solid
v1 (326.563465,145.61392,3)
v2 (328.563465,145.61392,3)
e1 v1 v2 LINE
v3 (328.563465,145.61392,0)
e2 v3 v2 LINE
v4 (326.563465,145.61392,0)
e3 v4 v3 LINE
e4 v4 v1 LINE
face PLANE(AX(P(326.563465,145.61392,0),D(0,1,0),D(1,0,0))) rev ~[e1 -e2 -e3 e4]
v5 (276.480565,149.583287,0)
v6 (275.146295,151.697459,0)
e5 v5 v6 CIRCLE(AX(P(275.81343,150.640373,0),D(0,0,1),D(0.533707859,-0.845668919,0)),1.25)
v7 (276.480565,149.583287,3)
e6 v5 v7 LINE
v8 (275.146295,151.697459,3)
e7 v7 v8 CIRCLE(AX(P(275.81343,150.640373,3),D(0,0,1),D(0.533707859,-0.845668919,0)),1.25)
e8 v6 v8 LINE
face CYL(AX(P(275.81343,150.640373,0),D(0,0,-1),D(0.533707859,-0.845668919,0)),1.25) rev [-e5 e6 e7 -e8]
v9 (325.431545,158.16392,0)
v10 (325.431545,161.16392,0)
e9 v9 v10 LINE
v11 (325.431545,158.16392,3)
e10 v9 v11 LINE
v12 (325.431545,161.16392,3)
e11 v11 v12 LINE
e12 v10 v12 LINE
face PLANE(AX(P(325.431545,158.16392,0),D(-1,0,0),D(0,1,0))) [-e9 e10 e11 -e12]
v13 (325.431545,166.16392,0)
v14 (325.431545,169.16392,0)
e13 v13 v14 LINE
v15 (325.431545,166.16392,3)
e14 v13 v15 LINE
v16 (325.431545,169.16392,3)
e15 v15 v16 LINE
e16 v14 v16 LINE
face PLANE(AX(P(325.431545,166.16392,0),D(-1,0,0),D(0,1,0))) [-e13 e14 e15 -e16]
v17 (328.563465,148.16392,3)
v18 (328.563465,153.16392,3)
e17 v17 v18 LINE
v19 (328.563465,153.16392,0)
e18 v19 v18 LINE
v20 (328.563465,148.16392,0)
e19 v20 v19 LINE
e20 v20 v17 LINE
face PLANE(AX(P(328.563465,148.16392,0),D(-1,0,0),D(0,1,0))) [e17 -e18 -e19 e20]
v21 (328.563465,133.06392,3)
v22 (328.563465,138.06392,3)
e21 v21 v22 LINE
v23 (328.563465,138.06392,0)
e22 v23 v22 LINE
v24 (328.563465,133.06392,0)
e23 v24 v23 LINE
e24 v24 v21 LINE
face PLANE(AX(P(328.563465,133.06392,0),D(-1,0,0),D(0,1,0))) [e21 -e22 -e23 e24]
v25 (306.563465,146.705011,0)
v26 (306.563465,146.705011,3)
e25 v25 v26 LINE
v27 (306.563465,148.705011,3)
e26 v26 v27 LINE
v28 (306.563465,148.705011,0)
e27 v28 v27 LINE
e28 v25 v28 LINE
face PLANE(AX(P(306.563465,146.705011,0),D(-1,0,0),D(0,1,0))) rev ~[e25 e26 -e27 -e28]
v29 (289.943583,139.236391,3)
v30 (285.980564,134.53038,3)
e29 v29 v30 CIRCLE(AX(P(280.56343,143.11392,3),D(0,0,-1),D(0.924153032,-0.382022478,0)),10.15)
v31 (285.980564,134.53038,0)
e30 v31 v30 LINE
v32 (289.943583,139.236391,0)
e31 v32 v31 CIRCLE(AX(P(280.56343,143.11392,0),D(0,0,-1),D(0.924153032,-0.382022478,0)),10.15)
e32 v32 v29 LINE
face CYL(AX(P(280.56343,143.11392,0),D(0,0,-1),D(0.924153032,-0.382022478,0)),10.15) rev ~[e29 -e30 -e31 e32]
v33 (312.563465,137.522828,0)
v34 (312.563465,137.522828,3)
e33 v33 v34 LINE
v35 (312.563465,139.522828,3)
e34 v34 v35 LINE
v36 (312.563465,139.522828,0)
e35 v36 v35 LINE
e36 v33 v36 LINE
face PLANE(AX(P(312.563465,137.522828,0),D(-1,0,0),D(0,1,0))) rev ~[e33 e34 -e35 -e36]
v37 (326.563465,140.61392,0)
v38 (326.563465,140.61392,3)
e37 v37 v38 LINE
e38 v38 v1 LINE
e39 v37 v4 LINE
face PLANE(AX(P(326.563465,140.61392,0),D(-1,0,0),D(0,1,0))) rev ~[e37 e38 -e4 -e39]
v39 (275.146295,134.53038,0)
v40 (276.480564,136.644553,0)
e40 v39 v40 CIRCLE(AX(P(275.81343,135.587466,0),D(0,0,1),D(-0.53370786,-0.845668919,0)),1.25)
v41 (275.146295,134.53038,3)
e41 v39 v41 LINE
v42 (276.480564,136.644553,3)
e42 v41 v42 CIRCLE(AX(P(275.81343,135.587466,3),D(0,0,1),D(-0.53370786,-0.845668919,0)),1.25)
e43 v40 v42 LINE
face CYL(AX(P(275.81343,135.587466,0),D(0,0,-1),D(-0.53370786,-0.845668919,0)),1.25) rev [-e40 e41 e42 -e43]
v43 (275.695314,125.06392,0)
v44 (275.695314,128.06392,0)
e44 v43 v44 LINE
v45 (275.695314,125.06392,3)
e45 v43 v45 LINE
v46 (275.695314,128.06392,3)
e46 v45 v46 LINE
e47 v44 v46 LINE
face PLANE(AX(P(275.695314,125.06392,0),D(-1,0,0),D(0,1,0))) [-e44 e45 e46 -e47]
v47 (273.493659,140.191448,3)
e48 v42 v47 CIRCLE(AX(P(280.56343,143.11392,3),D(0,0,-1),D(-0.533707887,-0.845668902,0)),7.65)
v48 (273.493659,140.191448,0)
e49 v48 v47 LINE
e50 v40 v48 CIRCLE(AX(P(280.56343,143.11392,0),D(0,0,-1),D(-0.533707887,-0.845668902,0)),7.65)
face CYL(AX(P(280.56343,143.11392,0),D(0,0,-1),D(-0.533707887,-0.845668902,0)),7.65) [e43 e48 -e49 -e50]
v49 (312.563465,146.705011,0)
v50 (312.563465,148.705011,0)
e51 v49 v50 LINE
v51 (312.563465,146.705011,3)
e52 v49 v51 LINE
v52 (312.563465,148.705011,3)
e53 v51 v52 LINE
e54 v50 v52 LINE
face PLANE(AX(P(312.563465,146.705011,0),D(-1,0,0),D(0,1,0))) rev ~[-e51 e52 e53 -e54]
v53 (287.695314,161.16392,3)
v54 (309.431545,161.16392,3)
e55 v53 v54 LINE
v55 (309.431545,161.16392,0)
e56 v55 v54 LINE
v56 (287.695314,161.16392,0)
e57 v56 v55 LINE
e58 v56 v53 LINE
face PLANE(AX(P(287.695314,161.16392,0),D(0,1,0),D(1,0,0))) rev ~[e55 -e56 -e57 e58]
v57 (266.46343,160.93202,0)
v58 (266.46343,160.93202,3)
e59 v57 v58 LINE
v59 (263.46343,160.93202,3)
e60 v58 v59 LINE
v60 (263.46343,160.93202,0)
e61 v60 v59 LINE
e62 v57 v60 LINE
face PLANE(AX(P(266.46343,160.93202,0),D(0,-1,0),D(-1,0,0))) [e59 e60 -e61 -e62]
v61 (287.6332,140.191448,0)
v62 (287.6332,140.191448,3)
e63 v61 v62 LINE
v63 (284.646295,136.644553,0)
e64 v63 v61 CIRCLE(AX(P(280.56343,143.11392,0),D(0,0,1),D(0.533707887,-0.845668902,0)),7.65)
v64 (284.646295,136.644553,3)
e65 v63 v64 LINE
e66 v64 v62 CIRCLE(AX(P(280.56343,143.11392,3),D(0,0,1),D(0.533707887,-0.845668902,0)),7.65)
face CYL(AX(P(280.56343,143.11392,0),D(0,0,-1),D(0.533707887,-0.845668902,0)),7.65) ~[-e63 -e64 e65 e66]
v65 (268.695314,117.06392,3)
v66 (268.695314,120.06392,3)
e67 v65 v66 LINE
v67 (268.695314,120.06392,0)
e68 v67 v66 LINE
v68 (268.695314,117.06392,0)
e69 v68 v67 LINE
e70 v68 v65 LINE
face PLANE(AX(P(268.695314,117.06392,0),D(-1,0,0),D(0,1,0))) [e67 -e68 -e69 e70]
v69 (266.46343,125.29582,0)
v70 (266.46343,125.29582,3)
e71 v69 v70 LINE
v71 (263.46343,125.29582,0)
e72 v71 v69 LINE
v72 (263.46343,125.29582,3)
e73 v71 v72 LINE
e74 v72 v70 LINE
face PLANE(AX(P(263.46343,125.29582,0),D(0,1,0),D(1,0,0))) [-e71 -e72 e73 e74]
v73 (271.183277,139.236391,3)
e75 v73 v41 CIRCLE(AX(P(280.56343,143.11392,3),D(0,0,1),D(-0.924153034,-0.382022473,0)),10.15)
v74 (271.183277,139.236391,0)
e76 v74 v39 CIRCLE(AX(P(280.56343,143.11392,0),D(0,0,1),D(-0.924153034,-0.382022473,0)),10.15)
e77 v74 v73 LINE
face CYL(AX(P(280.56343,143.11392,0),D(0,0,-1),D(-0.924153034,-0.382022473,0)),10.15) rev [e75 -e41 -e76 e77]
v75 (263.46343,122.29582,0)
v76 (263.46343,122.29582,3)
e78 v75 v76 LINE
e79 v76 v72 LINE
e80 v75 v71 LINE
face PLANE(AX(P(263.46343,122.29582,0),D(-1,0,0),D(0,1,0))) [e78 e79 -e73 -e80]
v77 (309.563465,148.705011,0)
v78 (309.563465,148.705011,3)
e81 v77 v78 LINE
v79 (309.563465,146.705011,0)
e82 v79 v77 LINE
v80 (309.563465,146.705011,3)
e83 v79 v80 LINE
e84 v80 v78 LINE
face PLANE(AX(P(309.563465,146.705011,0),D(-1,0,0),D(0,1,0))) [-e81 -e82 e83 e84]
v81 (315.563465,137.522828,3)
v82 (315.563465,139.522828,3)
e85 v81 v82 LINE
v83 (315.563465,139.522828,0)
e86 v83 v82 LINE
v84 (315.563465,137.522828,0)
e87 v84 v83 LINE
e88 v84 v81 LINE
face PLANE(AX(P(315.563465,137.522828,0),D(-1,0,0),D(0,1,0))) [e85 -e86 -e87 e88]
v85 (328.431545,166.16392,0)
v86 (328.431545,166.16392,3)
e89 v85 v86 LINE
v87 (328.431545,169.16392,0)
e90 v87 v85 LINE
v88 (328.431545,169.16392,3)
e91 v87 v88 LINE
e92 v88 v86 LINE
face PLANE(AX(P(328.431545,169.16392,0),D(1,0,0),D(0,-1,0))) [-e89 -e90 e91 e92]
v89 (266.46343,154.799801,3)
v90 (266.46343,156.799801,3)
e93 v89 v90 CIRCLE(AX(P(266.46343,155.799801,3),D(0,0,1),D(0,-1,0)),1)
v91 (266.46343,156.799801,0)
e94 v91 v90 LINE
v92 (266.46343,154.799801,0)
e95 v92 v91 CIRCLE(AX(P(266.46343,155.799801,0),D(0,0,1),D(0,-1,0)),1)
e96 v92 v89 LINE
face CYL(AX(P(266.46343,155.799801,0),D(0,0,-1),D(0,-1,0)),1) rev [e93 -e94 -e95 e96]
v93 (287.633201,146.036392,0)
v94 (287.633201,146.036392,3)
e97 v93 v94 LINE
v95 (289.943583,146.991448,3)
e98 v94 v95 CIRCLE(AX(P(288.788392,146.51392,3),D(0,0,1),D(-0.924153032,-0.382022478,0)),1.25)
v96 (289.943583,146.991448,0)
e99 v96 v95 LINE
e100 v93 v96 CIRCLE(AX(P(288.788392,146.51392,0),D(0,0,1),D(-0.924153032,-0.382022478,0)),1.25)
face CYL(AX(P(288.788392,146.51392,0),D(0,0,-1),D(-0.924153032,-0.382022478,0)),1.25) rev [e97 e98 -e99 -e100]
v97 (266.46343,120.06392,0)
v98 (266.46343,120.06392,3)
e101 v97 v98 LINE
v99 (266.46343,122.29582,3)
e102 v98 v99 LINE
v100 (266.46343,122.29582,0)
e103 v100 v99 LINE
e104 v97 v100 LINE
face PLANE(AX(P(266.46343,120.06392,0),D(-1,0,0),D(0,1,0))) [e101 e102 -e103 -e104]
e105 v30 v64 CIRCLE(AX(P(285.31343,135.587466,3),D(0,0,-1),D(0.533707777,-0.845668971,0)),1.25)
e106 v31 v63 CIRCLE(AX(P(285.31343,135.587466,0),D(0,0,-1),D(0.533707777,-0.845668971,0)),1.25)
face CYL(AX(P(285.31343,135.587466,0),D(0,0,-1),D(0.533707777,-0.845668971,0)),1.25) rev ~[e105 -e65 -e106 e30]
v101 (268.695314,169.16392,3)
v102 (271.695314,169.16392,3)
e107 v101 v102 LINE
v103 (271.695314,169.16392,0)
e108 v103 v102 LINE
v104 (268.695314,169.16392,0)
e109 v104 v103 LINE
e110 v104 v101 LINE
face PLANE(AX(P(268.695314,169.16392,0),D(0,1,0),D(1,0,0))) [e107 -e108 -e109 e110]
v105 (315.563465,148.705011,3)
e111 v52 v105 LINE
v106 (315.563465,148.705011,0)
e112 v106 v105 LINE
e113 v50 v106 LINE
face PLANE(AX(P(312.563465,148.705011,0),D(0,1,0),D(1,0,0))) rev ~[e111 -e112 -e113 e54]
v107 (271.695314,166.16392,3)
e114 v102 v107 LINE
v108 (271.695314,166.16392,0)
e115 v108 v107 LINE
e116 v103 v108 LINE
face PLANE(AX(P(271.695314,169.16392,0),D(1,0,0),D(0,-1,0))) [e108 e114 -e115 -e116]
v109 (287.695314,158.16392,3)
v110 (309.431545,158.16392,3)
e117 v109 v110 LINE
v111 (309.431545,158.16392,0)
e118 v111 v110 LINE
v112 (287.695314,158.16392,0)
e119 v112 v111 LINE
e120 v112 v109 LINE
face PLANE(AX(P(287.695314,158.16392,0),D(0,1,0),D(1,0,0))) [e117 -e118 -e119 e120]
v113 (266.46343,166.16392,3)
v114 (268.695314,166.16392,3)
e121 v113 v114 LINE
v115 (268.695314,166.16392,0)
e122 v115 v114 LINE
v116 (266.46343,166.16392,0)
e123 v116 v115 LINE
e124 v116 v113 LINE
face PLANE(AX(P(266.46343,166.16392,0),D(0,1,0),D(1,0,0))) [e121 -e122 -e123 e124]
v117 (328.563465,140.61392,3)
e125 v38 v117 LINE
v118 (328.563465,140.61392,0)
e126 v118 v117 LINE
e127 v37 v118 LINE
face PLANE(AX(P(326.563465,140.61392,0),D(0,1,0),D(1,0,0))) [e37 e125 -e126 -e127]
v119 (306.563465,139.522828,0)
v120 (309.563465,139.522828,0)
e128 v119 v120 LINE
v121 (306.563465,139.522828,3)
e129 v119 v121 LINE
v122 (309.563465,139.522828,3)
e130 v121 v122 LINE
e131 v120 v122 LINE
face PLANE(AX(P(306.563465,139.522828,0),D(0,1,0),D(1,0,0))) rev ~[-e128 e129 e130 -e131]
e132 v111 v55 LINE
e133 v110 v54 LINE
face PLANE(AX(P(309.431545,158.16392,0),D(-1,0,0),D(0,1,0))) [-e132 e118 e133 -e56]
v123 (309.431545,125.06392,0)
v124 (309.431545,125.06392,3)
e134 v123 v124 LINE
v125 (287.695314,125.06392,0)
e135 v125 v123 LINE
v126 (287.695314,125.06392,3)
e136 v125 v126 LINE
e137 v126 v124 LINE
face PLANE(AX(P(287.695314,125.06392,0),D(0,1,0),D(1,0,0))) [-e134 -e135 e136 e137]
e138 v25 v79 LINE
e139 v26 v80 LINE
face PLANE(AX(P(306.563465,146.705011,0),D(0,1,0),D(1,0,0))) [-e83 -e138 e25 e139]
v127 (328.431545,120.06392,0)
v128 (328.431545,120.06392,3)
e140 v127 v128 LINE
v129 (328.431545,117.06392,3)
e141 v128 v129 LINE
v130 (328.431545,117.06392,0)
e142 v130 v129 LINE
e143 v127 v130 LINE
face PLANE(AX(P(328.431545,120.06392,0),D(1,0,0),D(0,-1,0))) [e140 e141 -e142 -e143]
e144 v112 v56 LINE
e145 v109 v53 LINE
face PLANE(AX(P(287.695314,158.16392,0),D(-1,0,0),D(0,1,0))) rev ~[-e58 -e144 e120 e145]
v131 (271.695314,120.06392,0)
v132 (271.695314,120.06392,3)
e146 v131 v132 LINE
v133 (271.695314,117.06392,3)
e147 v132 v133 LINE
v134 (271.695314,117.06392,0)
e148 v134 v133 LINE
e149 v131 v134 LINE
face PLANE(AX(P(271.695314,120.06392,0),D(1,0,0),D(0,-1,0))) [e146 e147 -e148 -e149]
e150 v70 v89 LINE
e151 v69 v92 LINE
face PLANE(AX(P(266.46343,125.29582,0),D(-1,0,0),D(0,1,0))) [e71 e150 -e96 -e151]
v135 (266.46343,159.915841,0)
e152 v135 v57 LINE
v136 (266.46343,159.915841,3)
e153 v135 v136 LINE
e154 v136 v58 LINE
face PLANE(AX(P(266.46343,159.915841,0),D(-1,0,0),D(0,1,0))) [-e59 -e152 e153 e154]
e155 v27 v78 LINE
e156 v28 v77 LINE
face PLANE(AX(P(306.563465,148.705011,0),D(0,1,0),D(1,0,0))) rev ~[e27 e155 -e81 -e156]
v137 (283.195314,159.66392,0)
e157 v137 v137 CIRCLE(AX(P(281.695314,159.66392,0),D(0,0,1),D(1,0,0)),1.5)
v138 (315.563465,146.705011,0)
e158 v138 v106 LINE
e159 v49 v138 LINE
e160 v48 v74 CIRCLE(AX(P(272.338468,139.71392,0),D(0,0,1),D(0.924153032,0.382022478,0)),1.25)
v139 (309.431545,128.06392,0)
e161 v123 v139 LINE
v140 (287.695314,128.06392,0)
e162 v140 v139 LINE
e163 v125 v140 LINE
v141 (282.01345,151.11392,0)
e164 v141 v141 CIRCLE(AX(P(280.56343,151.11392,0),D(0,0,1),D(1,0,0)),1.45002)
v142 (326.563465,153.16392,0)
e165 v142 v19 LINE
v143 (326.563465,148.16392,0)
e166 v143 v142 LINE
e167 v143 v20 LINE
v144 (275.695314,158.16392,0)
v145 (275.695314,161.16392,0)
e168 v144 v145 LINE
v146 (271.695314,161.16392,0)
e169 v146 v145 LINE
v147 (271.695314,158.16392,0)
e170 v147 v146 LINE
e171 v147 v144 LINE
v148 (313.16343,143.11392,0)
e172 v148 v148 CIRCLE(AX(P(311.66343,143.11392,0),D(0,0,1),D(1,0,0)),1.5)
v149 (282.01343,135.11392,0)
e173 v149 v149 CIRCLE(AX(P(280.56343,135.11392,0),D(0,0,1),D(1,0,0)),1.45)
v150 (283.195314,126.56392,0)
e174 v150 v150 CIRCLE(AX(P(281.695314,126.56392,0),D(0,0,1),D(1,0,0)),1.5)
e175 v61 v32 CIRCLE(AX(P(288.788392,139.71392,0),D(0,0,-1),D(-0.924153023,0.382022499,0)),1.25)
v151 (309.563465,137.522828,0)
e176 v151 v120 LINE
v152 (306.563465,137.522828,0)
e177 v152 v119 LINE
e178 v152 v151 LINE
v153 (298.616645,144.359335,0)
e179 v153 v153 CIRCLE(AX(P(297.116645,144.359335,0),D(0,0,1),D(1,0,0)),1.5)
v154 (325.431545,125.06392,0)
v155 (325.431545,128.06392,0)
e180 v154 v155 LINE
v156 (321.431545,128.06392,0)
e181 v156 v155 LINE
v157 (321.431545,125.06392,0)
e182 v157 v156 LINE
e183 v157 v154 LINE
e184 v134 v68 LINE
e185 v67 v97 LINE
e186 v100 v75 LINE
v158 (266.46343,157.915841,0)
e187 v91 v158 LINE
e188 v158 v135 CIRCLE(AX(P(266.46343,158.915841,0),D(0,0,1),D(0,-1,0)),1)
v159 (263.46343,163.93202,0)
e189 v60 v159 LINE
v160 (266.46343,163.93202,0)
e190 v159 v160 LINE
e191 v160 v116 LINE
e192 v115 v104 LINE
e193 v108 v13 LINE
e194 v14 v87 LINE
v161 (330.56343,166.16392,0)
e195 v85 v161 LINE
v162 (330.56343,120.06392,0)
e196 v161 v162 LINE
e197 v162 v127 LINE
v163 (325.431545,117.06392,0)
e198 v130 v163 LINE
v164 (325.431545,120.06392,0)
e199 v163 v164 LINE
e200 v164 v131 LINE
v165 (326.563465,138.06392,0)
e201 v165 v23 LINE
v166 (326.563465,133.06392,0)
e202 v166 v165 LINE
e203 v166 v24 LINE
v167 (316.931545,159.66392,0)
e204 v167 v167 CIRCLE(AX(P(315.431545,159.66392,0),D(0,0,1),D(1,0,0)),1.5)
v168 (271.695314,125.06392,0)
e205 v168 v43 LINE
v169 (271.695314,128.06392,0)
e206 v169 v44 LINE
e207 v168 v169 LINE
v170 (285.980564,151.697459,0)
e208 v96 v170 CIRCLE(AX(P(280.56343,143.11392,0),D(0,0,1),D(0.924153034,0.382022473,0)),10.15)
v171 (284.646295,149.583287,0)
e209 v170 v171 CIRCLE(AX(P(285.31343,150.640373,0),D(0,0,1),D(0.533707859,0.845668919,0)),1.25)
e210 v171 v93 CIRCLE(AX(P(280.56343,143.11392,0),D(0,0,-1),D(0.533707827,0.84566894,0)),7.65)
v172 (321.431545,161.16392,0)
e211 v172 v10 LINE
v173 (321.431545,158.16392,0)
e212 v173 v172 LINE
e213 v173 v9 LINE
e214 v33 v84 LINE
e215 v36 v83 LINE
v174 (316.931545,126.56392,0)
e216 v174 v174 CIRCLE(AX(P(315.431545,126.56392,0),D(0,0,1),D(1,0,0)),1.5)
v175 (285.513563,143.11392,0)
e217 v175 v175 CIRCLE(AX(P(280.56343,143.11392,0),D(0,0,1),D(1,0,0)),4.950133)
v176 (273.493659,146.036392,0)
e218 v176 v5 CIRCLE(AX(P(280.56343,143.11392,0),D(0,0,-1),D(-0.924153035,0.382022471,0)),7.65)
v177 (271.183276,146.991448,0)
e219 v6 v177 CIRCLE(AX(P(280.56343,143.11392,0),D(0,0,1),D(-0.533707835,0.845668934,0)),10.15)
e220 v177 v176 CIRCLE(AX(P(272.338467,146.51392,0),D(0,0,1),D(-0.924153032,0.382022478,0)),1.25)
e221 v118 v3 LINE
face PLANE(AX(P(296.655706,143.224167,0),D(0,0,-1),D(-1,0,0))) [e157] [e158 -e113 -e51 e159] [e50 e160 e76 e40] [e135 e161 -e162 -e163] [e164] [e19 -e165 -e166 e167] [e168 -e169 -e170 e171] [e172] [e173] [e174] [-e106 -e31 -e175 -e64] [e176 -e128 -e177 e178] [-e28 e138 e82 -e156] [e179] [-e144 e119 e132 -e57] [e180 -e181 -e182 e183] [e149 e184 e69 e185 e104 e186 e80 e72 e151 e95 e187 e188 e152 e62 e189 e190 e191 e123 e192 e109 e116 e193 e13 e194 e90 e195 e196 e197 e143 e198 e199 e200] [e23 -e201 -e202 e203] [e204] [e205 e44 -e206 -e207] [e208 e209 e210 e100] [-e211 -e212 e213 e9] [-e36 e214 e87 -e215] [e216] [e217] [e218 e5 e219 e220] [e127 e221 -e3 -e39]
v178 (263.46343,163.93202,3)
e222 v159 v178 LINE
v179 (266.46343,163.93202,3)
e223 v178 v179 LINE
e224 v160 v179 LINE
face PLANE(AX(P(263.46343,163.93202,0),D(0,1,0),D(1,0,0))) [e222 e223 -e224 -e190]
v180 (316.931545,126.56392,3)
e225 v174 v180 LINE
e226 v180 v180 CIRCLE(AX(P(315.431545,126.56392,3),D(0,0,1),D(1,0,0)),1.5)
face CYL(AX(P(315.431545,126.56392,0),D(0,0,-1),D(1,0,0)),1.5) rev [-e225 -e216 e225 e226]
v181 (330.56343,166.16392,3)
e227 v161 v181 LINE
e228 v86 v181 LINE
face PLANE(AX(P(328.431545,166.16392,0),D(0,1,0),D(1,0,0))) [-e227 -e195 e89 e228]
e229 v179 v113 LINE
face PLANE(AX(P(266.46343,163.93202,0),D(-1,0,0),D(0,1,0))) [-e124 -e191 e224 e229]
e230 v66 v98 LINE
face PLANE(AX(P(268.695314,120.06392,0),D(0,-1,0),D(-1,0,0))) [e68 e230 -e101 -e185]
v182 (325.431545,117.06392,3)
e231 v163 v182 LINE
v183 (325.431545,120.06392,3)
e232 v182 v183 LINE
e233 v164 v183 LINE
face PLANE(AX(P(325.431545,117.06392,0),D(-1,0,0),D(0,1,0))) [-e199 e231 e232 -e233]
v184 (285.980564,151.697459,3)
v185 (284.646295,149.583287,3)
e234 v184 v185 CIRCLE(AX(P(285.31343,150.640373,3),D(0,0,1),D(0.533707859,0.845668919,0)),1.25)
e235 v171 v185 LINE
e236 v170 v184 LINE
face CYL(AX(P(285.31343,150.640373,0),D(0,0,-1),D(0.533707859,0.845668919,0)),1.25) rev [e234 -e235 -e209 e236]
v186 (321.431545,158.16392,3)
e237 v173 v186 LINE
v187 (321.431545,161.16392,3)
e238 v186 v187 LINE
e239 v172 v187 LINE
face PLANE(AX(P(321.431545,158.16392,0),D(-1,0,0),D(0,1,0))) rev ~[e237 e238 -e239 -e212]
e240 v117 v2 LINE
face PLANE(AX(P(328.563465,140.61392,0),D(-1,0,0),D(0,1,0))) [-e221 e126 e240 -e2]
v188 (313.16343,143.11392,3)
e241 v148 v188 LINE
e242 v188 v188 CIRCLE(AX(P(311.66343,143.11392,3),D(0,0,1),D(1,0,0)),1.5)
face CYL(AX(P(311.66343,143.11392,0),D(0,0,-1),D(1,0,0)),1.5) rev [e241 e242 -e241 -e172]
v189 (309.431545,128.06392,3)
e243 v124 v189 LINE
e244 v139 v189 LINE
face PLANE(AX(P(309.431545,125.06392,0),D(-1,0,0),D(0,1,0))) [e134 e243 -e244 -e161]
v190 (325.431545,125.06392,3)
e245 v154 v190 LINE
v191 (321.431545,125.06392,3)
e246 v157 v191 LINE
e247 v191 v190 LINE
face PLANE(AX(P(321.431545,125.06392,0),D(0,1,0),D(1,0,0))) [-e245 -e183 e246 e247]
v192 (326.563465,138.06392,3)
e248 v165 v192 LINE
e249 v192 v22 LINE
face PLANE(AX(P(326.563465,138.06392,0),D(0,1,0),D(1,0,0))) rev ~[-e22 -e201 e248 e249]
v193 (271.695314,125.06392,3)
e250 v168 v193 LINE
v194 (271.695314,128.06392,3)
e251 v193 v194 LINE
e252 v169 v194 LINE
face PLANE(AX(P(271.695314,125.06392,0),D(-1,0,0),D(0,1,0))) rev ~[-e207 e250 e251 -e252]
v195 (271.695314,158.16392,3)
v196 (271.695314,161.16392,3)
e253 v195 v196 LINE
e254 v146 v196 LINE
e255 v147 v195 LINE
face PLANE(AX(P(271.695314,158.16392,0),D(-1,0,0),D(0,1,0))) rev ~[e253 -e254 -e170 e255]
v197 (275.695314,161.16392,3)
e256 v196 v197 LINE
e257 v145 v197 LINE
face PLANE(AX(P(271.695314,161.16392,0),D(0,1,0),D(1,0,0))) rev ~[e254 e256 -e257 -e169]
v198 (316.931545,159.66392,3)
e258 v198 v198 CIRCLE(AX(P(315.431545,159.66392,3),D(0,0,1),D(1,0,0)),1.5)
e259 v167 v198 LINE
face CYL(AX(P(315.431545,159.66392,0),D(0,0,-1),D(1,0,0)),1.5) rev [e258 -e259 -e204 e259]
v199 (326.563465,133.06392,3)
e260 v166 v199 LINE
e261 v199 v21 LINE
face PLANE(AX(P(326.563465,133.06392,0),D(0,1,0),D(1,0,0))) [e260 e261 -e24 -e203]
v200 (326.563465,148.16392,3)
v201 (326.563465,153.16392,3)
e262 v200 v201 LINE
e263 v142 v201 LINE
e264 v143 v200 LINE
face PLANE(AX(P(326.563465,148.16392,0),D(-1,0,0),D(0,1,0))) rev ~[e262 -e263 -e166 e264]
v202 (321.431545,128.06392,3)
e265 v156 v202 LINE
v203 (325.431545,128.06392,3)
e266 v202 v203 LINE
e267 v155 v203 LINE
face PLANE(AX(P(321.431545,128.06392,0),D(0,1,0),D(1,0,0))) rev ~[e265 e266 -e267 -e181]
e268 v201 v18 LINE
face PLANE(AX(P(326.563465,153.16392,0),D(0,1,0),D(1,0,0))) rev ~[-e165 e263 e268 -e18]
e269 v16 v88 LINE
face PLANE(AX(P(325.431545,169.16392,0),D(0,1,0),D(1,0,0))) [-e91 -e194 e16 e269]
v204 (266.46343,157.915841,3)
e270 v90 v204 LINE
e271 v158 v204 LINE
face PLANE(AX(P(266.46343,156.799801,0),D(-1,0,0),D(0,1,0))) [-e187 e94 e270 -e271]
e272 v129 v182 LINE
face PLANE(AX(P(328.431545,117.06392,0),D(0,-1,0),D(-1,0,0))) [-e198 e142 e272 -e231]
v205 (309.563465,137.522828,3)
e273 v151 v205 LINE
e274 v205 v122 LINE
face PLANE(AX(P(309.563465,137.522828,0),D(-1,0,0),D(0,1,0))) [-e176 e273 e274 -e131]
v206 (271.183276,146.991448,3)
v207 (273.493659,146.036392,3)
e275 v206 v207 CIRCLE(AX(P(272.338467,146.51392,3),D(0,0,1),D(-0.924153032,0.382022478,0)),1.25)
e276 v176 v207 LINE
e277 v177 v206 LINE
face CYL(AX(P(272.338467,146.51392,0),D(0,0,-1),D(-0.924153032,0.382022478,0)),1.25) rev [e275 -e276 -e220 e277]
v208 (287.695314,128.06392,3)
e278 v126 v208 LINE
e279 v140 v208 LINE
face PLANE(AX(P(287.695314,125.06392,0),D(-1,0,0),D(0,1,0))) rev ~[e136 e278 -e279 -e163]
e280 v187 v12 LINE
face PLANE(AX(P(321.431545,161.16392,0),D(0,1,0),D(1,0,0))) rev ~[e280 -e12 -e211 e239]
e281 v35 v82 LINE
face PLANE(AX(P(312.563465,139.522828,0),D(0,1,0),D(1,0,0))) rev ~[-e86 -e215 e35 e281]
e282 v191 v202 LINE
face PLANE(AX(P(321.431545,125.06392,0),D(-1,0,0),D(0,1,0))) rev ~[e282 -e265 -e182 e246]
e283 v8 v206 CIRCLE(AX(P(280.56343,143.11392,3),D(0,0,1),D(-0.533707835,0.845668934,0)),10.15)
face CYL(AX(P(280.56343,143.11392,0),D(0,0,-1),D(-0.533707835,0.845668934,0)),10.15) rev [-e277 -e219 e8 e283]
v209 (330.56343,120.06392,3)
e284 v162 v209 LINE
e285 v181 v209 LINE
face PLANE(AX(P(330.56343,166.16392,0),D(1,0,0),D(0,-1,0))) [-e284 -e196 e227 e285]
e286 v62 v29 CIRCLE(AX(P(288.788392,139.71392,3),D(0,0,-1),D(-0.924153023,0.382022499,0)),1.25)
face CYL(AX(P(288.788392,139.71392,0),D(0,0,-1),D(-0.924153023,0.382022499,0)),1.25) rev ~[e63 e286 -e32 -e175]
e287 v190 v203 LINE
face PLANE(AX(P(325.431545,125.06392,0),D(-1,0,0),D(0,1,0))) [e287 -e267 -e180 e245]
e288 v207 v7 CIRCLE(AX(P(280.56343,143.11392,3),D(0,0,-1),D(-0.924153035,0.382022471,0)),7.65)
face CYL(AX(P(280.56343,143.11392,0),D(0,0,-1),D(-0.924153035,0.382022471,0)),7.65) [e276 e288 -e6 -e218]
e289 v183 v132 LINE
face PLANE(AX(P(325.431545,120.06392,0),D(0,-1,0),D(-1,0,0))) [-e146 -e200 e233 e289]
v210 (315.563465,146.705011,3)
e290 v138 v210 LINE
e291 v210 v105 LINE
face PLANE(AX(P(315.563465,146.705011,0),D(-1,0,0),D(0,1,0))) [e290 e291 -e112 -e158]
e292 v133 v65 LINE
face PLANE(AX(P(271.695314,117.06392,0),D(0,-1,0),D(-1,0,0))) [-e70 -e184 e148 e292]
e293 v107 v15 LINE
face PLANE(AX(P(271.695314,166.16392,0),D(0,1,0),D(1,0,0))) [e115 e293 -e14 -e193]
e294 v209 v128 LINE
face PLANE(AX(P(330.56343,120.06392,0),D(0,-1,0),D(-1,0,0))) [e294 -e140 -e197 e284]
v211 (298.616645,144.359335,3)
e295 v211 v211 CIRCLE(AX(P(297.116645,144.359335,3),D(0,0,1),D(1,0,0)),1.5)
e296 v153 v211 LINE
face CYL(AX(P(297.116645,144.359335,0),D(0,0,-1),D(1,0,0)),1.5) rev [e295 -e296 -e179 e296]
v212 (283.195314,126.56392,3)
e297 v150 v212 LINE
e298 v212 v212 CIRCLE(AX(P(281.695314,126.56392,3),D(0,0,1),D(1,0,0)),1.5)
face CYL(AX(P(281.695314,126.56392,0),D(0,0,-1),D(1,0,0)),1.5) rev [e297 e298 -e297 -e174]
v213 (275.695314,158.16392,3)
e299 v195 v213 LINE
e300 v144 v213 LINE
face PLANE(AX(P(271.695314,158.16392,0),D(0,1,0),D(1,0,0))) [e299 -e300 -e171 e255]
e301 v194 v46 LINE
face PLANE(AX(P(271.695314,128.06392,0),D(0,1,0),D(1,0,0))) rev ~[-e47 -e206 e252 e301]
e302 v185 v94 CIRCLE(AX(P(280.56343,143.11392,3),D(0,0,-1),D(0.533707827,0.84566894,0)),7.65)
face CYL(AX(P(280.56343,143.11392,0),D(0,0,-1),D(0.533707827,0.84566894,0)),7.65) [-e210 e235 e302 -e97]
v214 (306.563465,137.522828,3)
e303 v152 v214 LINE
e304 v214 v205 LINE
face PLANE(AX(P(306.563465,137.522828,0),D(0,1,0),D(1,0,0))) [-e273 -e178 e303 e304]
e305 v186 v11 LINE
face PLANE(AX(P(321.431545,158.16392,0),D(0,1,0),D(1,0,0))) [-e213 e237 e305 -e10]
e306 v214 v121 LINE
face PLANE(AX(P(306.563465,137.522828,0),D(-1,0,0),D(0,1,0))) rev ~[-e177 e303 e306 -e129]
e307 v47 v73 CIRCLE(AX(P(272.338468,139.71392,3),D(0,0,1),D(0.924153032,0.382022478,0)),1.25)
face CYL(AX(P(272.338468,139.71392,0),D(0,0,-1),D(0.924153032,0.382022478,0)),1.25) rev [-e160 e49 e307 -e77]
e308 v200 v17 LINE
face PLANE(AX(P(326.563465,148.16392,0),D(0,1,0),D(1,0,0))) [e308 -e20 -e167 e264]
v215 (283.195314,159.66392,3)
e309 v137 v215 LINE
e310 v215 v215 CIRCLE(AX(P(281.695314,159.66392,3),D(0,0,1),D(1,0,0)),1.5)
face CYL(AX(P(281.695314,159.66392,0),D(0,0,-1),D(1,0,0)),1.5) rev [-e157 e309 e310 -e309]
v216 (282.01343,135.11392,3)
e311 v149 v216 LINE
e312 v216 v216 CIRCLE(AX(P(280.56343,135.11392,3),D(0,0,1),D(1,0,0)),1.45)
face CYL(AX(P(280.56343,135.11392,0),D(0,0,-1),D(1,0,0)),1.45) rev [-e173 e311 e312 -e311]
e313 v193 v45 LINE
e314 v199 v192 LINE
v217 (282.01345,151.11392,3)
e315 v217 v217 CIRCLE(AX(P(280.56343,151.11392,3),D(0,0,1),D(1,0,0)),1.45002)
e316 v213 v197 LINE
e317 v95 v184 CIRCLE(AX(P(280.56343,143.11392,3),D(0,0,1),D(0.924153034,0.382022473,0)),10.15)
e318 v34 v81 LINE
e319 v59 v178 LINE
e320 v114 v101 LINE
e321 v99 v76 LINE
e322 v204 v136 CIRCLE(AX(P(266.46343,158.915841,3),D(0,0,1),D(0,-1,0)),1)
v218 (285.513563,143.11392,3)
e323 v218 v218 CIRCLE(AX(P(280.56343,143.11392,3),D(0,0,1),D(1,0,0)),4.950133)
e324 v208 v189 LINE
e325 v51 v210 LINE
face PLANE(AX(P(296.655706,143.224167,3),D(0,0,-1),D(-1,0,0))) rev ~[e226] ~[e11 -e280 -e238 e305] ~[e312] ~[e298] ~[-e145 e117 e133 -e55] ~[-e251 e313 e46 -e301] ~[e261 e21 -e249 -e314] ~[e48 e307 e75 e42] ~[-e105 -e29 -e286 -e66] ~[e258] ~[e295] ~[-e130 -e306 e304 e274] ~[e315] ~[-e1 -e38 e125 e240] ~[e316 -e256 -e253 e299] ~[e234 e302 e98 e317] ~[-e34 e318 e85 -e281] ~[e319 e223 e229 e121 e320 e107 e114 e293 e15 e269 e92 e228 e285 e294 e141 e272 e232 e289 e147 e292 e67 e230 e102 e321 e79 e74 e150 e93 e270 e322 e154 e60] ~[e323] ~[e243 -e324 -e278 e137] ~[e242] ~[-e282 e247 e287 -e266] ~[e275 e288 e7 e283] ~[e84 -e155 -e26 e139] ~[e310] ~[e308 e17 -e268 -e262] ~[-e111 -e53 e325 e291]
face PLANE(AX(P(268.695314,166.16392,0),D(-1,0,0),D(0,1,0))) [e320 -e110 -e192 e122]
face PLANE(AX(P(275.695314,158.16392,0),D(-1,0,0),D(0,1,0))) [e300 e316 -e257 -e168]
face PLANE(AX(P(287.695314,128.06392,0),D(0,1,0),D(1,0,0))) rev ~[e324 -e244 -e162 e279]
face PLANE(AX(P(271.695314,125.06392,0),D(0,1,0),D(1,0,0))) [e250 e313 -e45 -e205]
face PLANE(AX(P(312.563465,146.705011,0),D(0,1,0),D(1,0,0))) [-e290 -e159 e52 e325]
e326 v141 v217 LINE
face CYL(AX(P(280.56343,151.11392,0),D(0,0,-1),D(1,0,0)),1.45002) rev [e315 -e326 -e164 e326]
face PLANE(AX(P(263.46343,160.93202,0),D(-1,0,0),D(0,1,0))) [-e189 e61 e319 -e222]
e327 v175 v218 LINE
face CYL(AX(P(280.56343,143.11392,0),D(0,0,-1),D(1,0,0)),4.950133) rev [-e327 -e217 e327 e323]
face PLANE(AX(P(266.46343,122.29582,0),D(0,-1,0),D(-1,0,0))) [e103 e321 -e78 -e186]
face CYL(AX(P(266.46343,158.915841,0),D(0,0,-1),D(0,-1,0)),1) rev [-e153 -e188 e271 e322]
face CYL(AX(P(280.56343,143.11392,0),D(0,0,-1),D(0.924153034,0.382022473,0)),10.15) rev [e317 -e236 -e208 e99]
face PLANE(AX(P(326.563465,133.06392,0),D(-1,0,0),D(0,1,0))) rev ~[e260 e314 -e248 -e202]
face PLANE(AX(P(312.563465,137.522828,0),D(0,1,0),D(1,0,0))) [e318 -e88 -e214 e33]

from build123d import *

# Parameters (mm, degrees)
MODEL_R             = 4.950133
MODEL_R_2           = 1.45002
MODEL_R_3           = 1.45
MODEL_R_4           = 1.5
MODEL_W             = 4
MODEL_H             = 3
MODEL_W_2           = 21.736231
MODEL_W_3           = 3
MODEL_H_2           = 2
MODEL_W_4           = 2
MODEL_H_3           = 5
BOSS_EXTRUDE1_DEPTH = 3


with BuildPart() as part:
    # Model → Boss-Extrude1 (new body)
    with BuildSketch(Plane.XY):
        with BuildLine():
            Line((330.563429791, 166.163919592), (330.563429791, 120.063919592))
            Line((330.563429791, 120.063919592), (328.431544791, 120.063919592))
            Line((328.431544791, 120.063919592), (328.431544791, 117.063919592))
            Line((328.431544791, 117.063919592), (325.431544791, 117.063919592))
            Line((325.431544791, 117.063919592), (325.431544791, 120.063919592))
            Line((325.431544791, 120.063919592), (271.695313791, 120.063919592))
            Line((271.695313791, 120.063919592), (271.695313791, 117.063919592))
            Line((271.695313791, 117.063919592), (268.695313791, 117.063919592))
            Line((268.695313791, 117.063919592), (268.695313791, 120.063919592))
            Line((268.695313791, 120.063919592), (266.463429791, 120.063919592))
            Line((266.463429791, 120.063919592), (266.463429791, 122.295819592))
            Line((266.463429791, 122.295819592), (263.463429791, 122.295819592))
            Line((263.463429791, 122.295819592), (263.463429791, 125.295819592))
            Line((263.463429791, 125.295819592), (266.463429791, 125.295819592))
            Line((266.463429791, 125.295819592), (266.463429791, 154.799800566))
            ThreePointArc((266.463429791, 154.799800566), (267.463429791, 155.799800566), (266.463429791, 156.799800566))
            Line((266.463429791, 156.799800566), (266.463429791, 157.915840878))
            ThreePointArc((266.463429791, 157.915840878), (267.463429791, 158.915840878), (266.463429791, 159.915840878))
            Line((266.463429791, 159.915840878), (266.463429791, 160.932019592))
            Line((266.463429791, 160.932019592), (263.463429791, 160.932019592))
            Line((263.463429791, 160.932019592), (263.463429791, 163.932019592))
            Line((263.463429791, 163.932019592), (266.463429791, 163.932019592))
            Line((266.463429791, 163.932019592), (266.463429791, 166.163919592))
            Line((266.463429791, 166.163919592), (268.695313791, 166.163919592))
            Line((268.695313791, 166.163919592), (268.695313791, 169.163919592))
            Line((268.695313791, 169.163919592), (271.695313791, 169.163919592))
            Line((271.695313791, 169.163919592), (271.695313791, 166.163919592))
            Line((271.695313791, 166.163919592), (325.431544791, 166.163919592))
            Line((325.431544791, 166.163919592), (325.431544791, 169.163919592))
            Line((325.431544791, 169.163919592), (328.431544791, 169.163919592))
            Line((328.431544791, 169.163919592), (328.431544791, 166.163919592))
            Line((328.431544791, 166.163919592), (330.563429791, 166.163919592))
        make_face()
        with Locations((280.563429657, 143.113919537)):
            Circle(MODEL_R, mode=Mode.SUBTRACT)
        with Locations((280.563429791, 151.113919592)):
            Circle(MODEL_R_2, mode=Mode.SUBTRACT)
        with Locations((280.563429791, 135.113919592)):
            Circle(MODEL_R_3, mode=Mode.SUBTRACT)
        with Locations((315.431544791, 159.663919592)):
            Circle(MODEL_R_4, mode=Mode.SUBTRACT)
        with Locations((281.695313791, 159.663919592)):
            Circle(MODEL_R_4, mode=Mode.SUBTRACT)
        with Locations((315.431544791, 126.563919592)):
            Circle(MODEL_R_4, mode=Mode.SUBTRACT)
        with Locations((281.695313791, 126.563919592)):
            Circle(MODEL_R_4, mode=Mode.SUBTRACT)
        with Locations((311.663429791, 143.113919592)):
            Circle(MODEL_R_4, mode=Mode.SUBTRACT)
        with Locations((297.116645225, 144.3593347)):
            Circle(MODEL_R_4, mode=Mode.SUBTRACT)
        with Locations((273.695313791, 159.663919592)):
            Rectangle(MODEL_W, MODEL_H, mode=Mode.SUBTRACT)
        with Locations((298.563429291, 159.663919592)):
            Rectangle(MODEL_W_2, MODEL_H, mode=Mode.SUBTRACT)
        with Locations((323.431544791, 159.663919592)):
            Rectangle(MODEL_W, MODEL_H, mode=Mode.SUBTRACT)
        with Locations((273.695313791, 126.563919592)):
            Rectangle(MODEL_W, MODEL_H, mode=Mode.SUBTRACT)
        with Locations((298.563429291, 126.563919592)):
            Rectangle(MODEL_W_2, MODEL_H, mode=Mode.SUBTRACT)
        with Locations((323.431544791, 126.563919592)):
            Rectangle(MODEL_W, MODEL_H, mode=Mode.SUBTRACT)
        with Locations((314.063465132, 147.705010706)):
            Rectangle(MODEL_W_3, MODEL_H_2, mode=Mode.SUBTRACT)
        with Locations((308.063465132, 147.705010706)):
            Rectangle(MODEL_W_3, MODEL_H_2, mode=Mode.SUBTRACT)
        with Locations((314.063465132, 138.522828477)):
            Rectangle(MODEL_W_3, MODEL_H_2, mode=Mode.SUBTRACT)
        with Locations((308.063465132, 138.522828477)):
            Rectangle(MODEL_W_3, MODEL_H_2, mode=Mode.SUBTRACT)
        with Locations((327.563465132, 150.663919592)):
            Rectangle(MODEL_W_4, MODEL_H_3, mode=Mode.SUBTRACT)
        with Locations((327.563465132, 143.113919592)):
            Rectangle(MODEL_W_4, MODEL_H_3, mode=Mode.SUBTRACT)
        with Locations((327.563465132, 135.563919592)):
            Rectangle(MODEL_W_4, MODEL_H_3, mode=Mode.SUBTRACT)
        with BuildLine():
            ThreePointArc((275.146294982, 151.69745945), (272.799630894, 149.651957033), (271.18327611, 146.991447741))
            ThreePointArc((271.18327611, 146.991447741), (271.860939302, 145.358728353), (273.49365869, 146.036391545))
            ThreePointArc((273.49365869, 146.036391545), (274.711896566, 148.041603035), (276.48056463, 149.583287152))
            ThreePointArc((276.48056463, 149.583287152), (276.870515955, 151.307508126), (275.146294982, 151.69745945))
        make_face(mode=Mode.SUBTRACT)
        with BuildLine():
            ThreePointArc((271.183276501, 139.236391494), (272.799631045, 136.575882517), (275.146294756, 134.530380266))
            ThreePointArc((275.146294756, 134.530380266), (276.870515729, 134.92033159), (276.480564405, 136.644552563))
            ThreePointArc((276.480564405, 136.644552563), (274.711896718, 138.186236515), (273.493659081, 140.191447689))
            ThreePointArc((273.493659081, 140.191447689), (271.860939693, 140.869110881), (271.183276501, 139.236391494))
        make_face(mode=Mode.SUBTRACT)
        with BuildLine():
            ThreePointArc((289.943583204, 146.991447741), (288.327228421, 149.651957033), (285.980564333, 151.69745945))
            ThreePointArc((285.980564333, 151.69745945), (284.25634336, 151.307508126), (284.646294684, 149.583287152))
            ThreePointArc((284.646294684, 149.583287152), (286.414962749, 148.041603035), (287.633200625, 146.036391545))
            ThreePointArc((287.633200625, 146.036391545), (289.265920012, 145.358728353), (289.943583204, 146.991447741))
        make_face(mode=Mode.SUBTRACT)
        with BuildLine():
            ThreePointArc((284.64629491, 136.644552563), (286.414962597, 138.186236515), (287.633200234, 140.191447689))
            ThreePointArc((287.633200234, 140.191447689), (289.265919735, 140.869110884), (289.94358293, 139.236391383))
            ThreePointArc((289.94358293, 139.236391383), (288.327228286, 136.575882304), (285.980564432, 134.530380008))
            ThreePointArc((285.980564432, 134.530380008), (284.256343393, 134.920331525), (284.64629491, 136.644552563))
        make_face(mode=Mode.SUBTRACT)
    extrude(amount=BOSS_EXTRUDE1_DEPTH)


solid = part.part
